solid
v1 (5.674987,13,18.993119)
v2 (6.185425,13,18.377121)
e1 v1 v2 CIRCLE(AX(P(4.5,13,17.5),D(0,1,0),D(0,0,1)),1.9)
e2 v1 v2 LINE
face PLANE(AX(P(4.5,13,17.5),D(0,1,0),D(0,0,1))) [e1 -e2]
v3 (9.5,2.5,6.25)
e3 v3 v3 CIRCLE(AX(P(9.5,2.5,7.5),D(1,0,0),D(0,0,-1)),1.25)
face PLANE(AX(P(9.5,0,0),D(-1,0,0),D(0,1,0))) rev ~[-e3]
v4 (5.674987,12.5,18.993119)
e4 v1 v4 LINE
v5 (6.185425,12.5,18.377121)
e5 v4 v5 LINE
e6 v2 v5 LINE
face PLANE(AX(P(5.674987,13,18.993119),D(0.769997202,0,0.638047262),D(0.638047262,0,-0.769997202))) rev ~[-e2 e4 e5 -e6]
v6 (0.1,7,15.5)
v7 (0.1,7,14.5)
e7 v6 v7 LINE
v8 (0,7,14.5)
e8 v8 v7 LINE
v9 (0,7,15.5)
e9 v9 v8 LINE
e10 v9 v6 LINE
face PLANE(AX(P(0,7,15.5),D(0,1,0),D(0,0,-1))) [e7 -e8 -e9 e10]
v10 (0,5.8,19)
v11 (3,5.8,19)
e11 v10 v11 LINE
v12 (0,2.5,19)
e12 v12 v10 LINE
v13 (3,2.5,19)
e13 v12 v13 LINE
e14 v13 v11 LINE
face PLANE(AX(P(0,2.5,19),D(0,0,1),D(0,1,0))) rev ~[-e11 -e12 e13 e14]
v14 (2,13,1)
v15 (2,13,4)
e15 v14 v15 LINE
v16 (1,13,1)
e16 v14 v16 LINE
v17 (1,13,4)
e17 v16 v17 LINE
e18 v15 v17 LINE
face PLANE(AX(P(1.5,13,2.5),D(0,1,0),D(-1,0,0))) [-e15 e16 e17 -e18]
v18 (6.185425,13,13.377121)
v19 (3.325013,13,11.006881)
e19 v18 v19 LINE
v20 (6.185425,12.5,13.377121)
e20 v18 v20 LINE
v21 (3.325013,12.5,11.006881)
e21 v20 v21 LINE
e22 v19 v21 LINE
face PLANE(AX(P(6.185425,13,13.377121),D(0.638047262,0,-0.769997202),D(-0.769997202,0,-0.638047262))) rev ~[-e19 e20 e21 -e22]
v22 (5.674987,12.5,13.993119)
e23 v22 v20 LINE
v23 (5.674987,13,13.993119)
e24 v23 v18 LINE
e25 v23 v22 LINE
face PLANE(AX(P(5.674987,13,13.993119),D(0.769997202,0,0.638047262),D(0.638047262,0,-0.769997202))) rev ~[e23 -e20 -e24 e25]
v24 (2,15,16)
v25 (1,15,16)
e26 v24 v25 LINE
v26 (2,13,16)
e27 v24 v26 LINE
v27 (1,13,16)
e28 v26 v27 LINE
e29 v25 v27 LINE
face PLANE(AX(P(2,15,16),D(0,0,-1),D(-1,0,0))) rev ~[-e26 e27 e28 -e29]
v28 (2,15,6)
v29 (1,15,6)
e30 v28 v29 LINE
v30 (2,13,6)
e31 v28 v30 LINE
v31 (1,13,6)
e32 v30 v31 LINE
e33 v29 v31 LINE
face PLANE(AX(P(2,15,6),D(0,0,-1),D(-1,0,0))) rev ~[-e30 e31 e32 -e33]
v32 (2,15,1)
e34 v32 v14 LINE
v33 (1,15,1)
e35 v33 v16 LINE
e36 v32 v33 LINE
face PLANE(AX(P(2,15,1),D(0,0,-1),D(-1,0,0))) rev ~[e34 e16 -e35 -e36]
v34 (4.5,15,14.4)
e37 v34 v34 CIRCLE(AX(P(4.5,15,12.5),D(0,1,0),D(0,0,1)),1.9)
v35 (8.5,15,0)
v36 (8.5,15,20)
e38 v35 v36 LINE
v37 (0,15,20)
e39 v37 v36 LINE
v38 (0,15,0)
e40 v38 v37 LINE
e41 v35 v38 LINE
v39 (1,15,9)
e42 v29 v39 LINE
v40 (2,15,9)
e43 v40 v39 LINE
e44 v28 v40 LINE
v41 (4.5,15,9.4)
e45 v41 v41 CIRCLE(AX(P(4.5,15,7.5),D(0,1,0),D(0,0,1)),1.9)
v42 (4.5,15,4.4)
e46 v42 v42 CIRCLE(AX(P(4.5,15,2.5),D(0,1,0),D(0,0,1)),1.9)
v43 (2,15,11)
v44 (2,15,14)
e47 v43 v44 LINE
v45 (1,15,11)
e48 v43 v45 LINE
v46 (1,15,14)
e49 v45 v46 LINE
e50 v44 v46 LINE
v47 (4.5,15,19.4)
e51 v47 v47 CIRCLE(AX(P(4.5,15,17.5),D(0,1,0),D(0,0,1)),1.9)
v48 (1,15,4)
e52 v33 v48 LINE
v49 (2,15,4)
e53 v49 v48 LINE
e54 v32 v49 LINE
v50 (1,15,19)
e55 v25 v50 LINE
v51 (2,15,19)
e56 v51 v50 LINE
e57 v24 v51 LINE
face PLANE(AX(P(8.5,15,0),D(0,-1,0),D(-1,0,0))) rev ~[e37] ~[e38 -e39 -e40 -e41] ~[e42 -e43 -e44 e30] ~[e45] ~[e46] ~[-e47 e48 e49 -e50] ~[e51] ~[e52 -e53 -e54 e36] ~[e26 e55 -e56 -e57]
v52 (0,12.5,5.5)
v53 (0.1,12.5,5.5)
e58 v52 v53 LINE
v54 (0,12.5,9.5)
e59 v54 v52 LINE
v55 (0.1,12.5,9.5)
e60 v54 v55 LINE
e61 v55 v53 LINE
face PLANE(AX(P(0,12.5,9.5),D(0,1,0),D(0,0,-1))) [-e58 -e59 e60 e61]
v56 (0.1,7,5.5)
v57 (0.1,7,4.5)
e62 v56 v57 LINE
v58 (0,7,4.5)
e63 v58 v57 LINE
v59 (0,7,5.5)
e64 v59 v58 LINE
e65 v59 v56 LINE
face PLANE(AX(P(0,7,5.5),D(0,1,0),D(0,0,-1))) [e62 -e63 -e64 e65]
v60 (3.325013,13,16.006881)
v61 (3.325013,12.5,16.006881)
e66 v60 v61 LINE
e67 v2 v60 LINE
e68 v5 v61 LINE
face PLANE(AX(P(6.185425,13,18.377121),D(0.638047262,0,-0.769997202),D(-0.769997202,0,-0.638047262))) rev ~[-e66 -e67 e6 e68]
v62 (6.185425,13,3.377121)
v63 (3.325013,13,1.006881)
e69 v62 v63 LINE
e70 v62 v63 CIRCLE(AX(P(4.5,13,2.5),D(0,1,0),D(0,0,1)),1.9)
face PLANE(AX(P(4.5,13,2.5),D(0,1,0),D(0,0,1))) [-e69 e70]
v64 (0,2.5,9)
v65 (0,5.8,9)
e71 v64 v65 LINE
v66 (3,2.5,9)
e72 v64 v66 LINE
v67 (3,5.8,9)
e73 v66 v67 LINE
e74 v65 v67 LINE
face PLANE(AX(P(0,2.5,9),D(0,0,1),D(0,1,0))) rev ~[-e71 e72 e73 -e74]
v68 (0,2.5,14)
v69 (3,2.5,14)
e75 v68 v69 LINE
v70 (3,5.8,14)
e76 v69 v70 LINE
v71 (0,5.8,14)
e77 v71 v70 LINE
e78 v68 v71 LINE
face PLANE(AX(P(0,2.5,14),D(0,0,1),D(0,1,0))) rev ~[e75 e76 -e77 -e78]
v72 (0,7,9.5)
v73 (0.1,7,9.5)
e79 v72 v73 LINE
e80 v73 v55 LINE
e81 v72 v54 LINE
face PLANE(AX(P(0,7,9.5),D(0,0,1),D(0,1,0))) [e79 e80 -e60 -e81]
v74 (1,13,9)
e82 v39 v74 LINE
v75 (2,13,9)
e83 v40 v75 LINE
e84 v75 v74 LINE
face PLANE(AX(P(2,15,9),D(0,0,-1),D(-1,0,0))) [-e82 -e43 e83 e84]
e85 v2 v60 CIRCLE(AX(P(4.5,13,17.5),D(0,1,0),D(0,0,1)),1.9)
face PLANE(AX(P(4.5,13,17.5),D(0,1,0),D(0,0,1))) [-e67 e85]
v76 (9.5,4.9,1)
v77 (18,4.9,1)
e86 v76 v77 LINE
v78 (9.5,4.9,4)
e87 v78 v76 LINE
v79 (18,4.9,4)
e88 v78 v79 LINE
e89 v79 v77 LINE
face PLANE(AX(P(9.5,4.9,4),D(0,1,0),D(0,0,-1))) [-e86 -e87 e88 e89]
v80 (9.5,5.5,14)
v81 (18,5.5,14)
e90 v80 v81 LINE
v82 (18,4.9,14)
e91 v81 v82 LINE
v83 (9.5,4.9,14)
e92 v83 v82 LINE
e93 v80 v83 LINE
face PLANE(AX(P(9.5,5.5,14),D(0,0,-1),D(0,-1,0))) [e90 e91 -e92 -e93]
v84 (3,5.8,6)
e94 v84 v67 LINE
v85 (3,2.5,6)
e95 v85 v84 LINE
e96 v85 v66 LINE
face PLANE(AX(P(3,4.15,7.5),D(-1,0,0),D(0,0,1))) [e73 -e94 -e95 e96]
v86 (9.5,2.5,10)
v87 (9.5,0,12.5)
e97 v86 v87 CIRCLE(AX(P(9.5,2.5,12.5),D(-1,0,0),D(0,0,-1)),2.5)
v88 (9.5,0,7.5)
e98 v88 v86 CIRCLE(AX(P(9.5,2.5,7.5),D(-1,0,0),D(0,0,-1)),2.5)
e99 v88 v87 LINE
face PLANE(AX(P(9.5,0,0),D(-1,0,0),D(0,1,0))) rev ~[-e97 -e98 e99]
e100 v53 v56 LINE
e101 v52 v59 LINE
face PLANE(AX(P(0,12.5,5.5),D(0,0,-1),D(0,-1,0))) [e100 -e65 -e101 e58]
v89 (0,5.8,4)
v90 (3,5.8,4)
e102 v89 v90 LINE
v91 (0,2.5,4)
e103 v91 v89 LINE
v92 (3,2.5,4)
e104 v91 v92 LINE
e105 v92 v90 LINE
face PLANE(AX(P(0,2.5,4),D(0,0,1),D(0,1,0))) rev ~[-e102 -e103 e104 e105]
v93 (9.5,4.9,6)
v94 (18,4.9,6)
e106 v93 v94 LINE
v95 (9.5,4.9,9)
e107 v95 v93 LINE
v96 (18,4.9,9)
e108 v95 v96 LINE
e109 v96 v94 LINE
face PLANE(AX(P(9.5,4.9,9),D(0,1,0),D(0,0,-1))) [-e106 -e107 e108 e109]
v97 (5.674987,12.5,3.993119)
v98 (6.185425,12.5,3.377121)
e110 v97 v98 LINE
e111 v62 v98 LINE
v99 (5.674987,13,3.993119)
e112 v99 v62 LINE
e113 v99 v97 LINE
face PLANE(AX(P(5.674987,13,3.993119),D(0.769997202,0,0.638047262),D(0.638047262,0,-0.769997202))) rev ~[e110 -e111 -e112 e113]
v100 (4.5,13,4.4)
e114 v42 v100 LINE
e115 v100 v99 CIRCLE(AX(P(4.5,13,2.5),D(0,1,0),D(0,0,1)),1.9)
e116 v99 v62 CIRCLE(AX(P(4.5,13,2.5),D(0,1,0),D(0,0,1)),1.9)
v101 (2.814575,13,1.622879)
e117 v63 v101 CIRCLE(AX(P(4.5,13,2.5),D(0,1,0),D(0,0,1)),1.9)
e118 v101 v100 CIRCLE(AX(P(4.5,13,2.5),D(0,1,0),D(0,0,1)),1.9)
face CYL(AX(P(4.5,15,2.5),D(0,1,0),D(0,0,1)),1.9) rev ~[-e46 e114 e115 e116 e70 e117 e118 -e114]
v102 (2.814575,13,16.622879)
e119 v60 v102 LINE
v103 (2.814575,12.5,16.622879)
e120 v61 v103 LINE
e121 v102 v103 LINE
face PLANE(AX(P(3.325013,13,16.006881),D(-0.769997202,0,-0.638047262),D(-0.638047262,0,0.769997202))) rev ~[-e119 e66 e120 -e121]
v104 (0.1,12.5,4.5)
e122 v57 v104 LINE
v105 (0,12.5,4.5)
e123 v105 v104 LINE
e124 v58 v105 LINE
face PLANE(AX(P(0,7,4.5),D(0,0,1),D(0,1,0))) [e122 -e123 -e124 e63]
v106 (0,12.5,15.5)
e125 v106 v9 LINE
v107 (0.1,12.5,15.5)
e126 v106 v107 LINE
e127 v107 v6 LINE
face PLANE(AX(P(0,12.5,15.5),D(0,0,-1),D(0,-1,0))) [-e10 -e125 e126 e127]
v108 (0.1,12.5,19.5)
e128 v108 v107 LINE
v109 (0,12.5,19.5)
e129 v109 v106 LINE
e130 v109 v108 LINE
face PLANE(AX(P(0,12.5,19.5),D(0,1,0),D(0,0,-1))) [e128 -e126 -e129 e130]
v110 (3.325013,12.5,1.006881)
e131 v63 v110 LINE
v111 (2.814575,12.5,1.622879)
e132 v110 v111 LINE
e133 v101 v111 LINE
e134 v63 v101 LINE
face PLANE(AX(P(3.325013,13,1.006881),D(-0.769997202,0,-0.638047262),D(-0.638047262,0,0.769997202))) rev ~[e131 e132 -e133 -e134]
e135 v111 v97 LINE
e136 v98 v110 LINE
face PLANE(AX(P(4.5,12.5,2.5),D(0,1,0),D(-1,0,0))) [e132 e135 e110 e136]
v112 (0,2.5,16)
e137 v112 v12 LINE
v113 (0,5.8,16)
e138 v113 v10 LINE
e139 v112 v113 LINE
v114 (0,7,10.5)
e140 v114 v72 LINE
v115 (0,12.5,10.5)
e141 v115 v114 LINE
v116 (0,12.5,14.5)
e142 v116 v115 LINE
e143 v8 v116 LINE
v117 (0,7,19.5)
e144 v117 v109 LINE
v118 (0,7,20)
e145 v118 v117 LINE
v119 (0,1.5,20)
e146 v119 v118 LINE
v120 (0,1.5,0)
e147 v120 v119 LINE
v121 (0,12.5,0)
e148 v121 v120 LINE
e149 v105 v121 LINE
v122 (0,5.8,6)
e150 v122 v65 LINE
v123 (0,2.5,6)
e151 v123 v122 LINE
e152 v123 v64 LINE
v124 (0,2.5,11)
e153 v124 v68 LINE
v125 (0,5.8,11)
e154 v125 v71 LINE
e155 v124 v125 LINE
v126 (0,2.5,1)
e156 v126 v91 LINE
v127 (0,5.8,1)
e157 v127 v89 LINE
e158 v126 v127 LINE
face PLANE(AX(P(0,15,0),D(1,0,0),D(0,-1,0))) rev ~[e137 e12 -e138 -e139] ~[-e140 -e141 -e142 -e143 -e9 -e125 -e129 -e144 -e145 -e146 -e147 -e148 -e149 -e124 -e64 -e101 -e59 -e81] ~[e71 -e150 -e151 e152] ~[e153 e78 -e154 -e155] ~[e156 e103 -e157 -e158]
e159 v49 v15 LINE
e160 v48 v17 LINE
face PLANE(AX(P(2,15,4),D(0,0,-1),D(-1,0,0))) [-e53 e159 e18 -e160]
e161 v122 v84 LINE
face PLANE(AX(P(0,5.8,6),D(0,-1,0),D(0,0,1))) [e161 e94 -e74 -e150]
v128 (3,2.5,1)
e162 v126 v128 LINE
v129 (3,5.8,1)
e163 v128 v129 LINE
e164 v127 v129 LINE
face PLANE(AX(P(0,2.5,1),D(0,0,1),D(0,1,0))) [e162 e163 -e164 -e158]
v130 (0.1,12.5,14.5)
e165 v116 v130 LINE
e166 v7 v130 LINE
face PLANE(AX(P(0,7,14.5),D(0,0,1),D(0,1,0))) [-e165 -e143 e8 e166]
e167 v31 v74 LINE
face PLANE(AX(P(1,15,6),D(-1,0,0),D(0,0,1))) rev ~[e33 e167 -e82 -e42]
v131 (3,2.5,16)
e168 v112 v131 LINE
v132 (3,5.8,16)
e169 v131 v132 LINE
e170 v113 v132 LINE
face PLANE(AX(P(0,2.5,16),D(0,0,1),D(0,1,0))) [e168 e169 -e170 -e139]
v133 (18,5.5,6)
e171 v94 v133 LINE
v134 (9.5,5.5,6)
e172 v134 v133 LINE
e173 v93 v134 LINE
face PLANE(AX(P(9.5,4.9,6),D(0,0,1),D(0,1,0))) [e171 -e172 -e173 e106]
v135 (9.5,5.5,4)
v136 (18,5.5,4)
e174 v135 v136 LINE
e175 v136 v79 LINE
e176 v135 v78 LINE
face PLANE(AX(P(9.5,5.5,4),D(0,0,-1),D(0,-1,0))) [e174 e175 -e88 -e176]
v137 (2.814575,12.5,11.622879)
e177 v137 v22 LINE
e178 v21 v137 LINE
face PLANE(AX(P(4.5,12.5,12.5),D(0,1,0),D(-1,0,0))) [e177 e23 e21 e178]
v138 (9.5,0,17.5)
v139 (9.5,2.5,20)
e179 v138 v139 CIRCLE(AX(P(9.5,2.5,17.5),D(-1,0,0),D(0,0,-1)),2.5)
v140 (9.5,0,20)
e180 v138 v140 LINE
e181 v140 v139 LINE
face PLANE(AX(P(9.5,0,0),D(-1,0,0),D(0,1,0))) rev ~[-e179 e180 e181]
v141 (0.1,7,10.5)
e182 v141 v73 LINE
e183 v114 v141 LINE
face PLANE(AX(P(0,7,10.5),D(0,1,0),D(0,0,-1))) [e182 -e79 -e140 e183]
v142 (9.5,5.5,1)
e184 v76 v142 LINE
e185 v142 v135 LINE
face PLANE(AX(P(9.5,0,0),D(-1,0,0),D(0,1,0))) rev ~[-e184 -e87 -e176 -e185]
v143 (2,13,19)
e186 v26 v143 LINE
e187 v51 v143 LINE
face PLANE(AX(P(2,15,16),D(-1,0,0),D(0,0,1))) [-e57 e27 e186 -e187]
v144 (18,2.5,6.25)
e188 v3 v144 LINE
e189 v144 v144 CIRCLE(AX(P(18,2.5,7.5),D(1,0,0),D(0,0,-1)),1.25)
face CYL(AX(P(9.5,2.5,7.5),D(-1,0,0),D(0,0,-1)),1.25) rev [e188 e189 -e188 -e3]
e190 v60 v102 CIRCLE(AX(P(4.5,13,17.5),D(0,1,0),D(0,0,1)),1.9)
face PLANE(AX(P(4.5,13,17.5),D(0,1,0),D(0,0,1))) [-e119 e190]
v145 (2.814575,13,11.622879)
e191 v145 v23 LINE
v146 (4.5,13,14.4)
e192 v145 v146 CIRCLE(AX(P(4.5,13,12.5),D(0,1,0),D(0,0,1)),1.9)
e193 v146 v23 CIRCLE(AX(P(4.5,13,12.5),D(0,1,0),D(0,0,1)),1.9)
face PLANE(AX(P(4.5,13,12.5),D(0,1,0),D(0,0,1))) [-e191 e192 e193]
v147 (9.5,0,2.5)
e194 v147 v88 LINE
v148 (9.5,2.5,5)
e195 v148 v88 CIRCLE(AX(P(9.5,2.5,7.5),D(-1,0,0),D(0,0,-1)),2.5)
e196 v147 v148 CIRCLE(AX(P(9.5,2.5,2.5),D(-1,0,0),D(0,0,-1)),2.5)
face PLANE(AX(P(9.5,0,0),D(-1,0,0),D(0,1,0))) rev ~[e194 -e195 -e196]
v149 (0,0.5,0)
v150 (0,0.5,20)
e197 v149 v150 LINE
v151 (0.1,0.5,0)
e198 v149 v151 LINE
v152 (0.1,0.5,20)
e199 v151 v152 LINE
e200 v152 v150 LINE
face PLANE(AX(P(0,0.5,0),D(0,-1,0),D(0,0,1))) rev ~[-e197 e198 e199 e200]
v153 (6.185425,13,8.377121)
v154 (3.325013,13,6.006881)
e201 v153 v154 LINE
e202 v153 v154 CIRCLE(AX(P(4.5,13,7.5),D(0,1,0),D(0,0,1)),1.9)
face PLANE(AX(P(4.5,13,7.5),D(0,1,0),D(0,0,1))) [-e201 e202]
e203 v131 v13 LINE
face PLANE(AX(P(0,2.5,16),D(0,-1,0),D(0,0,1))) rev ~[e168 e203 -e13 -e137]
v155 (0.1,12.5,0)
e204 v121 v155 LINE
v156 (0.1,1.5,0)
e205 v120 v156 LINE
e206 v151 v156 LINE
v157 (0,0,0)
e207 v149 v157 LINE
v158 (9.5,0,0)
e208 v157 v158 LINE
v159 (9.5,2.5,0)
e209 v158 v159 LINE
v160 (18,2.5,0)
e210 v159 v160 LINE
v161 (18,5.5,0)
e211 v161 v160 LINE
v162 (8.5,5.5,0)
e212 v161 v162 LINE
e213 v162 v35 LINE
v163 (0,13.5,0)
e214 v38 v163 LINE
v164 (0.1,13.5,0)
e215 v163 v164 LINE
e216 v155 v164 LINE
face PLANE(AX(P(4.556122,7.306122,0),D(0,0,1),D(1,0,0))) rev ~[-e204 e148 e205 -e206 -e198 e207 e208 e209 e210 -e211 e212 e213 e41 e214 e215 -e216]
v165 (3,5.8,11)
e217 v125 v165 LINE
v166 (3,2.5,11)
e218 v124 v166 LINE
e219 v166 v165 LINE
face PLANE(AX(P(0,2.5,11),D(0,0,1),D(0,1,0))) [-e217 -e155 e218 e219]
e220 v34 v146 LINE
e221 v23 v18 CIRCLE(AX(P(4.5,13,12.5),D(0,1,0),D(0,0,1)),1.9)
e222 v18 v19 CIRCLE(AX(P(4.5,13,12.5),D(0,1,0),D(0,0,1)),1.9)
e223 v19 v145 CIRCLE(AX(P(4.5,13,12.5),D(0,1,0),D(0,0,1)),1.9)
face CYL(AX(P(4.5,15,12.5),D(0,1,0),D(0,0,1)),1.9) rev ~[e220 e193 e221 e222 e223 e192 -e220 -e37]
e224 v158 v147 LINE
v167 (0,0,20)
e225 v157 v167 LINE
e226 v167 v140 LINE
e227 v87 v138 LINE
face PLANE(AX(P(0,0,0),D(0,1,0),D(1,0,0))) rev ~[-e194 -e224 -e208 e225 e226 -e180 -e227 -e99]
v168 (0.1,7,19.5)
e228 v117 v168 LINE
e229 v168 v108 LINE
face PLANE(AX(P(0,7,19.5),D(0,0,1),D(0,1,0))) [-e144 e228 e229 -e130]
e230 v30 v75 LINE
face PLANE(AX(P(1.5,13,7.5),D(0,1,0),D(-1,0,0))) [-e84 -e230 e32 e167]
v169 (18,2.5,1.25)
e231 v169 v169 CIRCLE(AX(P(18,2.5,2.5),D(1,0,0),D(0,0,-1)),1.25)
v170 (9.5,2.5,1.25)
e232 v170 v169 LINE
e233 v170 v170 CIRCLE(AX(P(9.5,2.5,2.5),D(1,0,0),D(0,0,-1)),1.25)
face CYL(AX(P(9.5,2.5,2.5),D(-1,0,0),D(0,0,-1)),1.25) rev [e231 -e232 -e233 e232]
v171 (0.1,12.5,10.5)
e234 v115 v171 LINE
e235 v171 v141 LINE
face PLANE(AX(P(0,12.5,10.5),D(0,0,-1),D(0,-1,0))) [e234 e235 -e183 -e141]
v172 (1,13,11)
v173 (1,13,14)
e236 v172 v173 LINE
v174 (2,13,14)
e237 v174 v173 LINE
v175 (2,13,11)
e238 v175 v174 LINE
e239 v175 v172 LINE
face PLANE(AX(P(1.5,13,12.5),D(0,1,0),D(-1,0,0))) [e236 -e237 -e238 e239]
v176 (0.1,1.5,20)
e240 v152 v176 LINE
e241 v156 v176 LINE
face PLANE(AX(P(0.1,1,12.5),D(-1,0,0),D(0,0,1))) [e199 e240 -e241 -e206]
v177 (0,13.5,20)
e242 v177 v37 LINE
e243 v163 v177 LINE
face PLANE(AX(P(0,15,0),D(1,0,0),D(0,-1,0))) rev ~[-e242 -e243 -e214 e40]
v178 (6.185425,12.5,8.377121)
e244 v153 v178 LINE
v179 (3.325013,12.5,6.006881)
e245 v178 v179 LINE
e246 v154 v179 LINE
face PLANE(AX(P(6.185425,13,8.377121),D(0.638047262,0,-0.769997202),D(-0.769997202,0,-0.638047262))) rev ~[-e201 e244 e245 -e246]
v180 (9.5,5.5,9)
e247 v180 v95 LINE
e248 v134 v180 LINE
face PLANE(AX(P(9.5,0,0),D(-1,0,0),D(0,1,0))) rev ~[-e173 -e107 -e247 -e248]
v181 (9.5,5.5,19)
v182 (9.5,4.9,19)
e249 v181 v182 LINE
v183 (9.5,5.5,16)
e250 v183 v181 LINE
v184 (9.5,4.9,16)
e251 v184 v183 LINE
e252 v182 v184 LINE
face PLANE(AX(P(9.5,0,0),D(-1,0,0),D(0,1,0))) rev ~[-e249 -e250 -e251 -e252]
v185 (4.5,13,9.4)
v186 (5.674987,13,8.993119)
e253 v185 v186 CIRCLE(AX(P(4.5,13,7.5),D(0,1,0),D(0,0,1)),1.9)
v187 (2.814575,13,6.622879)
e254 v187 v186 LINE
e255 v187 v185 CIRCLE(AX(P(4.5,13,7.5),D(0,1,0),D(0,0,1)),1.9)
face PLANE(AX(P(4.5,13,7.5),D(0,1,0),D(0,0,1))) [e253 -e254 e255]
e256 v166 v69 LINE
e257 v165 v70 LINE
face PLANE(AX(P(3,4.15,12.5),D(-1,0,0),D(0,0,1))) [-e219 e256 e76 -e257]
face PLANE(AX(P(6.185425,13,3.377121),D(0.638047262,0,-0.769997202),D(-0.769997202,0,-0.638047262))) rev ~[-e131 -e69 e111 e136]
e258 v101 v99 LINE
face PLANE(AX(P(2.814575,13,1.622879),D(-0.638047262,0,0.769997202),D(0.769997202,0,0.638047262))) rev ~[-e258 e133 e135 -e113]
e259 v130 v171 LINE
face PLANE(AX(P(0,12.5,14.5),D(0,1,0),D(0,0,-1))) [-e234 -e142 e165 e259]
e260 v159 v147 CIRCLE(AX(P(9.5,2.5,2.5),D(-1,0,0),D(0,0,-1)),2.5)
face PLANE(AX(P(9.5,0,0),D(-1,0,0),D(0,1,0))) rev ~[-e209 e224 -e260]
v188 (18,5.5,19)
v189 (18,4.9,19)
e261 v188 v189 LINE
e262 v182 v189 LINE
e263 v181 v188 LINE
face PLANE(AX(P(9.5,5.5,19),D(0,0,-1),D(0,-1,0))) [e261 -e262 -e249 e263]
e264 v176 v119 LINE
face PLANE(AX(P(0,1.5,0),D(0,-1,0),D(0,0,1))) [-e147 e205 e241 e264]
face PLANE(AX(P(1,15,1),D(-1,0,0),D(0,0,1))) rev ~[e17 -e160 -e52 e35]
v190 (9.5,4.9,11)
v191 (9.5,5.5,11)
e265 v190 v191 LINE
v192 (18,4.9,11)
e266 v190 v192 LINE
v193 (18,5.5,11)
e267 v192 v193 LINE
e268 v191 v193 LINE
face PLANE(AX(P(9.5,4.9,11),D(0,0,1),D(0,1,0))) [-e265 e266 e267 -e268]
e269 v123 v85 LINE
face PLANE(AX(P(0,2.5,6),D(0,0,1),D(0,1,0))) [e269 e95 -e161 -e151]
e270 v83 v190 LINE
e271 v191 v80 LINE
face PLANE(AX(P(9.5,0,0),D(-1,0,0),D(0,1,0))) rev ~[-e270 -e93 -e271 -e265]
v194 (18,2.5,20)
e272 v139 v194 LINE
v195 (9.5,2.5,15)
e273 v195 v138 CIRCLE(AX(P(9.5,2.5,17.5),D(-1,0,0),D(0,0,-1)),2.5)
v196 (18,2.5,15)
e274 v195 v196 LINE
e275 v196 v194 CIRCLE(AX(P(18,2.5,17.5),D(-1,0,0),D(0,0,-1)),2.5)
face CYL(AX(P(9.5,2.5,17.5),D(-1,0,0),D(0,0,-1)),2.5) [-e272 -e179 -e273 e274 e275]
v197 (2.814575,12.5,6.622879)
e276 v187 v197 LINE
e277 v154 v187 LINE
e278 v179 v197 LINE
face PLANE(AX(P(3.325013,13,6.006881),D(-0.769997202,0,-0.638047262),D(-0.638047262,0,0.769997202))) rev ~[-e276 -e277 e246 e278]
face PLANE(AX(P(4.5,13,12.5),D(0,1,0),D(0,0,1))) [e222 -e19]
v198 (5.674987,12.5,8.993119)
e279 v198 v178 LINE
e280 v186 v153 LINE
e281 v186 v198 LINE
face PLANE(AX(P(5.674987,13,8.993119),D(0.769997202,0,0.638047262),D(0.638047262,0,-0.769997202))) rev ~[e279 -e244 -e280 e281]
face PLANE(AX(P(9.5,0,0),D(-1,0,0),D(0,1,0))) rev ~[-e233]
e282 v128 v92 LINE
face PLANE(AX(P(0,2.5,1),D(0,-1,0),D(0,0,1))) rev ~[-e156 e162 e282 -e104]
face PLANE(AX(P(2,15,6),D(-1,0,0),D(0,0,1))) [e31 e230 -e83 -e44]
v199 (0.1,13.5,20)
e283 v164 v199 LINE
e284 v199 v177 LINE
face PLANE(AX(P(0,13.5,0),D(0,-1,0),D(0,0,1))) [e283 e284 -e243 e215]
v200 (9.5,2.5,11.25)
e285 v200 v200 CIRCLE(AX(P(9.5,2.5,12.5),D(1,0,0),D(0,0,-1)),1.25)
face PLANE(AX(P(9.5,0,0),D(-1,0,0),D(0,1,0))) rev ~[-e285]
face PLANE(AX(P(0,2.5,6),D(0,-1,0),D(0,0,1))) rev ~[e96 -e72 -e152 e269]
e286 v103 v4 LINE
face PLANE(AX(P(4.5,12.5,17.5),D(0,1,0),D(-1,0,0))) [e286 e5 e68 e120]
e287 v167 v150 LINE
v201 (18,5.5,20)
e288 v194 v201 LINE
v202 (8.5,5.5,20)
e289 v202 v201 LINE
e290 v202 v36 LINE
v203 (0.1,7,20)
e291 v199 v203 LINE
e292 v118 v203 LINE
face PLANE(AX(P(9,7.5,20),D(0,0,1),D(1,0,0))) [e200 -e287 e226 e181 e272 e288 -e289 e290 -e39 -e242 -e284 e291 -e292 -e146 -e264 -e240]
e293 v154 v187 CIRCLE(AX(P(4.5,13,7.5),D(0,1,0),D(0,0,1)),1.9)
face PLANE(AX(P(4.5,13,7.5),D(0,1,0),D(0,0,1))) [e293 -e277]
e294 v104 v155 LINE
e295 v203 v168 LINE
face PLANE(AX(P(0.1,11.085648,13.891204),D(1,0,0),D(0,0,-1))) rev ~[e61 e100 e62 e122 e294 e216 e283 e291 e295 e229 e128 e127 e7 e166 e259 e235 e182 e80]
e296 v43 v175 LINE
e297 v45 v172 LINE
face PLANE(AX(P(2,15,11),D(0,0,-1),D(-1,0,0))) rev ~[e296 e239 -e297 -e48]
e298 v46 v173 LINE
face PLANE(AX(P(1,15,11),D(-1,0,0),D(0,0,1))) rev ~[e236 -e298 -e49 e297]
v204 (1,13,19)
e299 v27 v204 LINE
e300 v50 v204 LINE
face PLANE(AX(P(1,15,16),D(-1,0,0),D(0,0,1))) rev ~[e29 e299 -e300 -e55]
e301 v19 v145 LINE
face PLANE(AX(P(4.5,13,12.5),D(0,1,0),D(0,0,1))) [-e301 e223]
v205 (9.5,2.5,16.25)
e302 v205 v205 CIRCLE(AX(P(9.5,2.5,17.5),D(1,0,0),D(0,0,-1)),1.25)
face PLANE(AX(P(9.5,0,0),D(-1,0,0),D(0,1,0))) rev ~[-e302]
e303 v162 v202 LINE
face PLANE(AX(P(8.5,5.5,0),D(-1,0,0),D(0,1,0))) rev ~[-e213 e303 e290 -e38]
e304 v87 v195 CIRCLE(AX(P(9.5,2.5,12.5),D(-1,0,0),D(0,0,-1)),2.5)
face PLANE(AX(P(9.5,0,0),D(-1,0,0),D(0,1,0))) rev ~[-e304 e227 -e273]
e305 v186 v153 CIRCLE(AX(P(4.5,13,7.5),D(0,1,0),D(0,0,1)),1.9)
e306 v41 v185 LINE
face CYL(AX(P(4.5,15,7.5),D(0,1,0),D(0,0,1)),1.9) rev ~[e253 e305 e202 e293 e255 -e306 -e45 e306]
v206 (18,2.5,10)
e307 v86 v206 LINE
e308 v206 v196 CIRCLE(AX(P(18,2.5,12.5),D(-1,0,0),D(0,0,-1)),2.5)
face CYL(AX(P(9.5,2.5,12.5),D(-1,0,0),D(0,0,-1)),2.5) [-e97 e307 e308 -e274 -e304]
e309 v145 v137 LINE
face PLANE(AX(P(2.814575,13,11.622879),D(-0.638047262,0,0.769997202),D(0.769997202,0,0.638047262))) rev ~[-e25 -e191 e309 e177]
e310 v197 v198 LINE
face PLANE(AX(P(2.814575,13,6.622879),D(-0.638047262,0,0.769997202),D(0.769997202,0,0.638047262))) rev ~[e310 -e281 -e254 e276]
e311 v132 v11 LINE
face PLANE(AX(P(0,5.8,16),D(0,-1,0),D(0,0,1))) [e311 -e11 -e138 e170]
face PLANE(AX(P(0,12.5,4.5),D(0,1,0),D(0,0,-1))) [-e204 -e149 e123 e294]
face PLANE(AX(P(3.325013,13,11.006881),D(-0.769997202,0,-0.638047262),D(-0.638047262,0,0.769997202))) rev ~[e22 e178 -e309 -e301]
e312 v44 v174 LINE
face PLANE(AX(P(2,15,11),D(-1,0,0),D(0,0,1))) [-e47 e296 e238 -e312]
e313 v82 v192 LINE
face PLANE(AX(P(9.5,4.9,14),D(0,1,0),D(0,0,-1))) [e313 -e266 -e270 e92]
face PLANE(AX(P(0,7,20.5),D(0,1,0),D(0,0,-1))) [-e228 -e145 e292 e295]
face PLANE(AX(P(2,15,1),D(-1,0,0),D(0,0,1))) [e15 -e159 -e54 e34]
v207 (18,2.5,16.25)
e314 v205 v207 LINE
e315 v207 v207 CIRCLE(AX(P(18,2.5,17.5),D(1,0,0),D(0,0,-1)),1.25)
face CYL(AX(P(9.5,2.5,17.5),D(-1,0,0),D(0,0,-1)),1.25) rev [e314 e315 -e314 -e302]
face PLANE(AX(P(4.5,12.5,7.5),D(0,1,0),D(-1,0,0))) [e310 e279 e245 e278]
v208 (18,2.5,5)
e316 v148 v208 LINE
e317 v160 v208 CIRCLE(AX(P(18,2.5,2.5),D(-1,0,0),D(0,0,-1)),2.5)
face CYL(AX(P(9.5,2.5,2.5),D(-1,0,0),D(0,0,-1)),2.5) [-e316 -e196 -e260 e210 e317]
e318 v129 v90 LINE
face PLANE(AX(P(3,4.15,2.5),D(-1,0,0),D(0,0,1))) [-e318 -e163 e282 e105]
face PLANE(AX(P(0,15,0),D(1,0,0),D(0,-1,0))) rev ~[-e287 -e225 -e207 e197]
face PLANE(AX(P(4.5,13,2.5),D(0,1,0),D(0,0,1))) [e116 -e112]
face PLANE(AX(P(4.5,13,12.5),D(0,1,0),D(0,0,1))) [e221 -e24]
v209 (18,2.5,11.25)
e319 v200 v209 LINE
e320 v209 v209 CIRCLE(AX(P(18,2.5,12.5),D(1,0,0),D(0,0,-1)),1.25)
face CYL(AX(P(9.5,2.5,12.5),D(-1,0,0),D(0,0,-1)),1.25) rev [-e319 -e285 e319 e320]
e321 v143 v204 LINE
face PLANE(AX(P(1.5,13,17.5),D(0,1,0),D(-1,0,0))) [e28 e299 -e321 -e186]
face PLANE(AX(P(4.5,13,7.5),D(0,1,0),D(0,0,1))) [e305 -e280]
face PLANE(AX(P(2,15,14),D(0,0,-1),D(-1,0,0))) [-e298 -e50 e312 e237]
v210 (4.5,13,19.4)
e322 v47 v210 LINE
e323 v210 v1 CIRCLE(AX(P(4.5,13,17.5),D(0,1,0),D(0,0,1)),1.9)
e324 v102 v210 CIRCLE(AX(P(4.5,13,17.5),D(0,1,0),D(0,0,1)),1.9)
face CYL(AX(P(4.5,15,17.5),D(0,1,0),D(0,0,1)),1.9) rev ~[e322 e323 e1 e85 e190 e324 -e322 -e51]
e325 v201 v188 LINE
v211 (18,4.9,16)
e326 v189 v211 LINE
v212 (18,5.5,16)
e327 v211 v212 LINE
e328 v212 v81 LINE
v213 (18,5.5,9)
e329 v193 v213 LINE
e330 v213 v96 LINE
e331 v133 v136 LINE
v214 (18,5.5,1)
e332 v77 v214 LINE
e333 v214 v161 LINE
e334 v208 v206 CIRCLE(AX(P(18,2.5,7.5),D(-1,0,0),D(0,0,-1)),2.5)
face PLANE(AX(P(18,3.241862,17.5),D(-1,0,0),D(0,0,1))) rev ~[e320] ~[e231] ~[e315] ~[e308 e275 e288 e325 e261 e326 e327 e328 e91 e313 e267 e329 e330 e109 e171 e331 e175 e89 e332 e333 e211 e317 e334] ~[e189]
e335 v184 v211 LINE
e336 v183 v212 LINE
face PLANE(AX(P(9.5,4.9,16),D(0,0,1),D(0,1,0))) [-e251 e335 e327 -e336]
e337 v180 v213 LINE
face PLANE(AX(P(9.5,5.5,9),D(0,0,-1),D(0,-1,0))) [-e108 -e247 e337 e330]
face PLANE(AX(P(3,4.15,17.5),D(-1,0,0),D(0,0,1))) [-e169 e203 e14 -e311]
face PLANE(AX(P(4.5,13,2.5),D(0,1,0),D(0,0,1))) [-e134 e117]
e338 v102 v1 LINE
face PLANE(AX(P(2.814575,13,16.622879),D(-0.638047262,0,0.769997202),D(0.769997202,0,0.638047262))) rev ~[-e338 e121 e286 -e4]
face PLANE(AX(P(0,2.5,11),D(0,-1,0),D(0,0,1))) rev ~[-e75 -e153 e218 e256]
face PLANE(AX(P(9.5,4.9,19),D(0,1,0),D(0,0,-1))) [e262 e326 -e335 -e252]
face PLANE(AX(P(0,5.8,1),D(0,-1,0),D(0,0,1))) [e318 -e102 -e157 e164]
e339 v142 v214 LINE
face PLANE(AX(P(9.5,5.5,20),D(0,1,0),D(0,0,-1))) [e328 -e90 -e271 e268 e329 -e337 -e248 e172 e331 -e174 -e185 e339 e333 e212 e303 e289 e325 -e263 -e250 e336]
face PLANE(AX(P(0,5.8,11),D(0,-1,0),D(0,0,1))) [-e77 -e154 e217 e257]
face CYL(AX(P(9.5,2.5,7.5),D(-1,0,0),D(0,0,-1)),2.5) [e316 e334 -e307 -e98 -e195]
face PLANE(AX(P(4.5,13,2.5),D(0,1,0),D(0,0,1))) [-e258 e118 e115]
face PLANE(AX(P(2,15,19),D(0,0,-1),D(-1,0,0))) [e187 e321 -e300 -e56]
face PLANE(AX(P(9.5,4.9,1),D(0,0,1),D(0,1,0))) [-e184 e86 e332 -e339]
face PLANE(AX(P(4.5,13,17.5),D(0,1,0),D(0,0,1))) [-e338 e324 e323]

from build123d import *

# Parameters (mm, degrees)
EXTRUDE_1_DEPTH        = 25
SKETCH_2_R             = 1.25
EXTRUDE_2_DEPTH        = 8.5
PATTERN_LINEAR_1_COUNT = 5
PATTERN_LINEAR_1_PITCH = 5
SKETCH_3_W             = 3
SKETCH_3_H             = 3.3
CUT_EXTRUDE_1_DEPTH    = 3
PATTERN_LINEAR_2_COUNT = 5
PATTERN_LINEAR_2_PITCH = 5
CUT_EXTRUDE_2_DEPTH    = 0.1
SKETCH_5_W             = 25
SKETCH_5_H             = 1
CUT_EXTRUDE_3_DEPTH    = 0.1
SKETCH_6_R             = 1.9
CUT_EXTRUDE_4_DEPTH    = 2
PATTERN_LINEAR_3_COUNT = 5
PATTERN_LINEAR_3_PITCH = 5
SKETCH_7_W             = 1
SKETCH_7_H             = 3
CUT_EXTRUDE_5_DEPTH    = 2
PATTERN_LINEAR_4_COUNT = 5
PATTERN_LINEAR_4_PITCH = 5
CUT_EXTRUDE_6_DEPTH    = 0.5
PATTERN_LINEAR_5_COUNT = 5
PATTERN_LINEAR_5_PITCH = 5
SKETCH_9_W             = 18
SKETCH_9_H             = 15
CUT_EXTRUDE_7_DEPTH    = 5


with BuildPart() as part:
    # Эскиз1 → Вытянуть1 (new body)
    with BuildSketch(Plane.XY):
        Polygon((0, 0), (9.5, 0), (9.5, 5.5), (8.5, 5.5), (8.5, 15), (0, 15), align=None)
    extrude(amount=EXTRUDE_1_DEPTH)

    # Эскиз2 → Вытянуть2 (add)
    with BuildSketch(Plane(origin=(9.5, 0, 0), x_dir=(0, 0, -1), z_dir=(1, 0, 0))):
        with BuildLine():
            Line((-25, 5.5), (-24, 5.5))
            Line((-24, 5.5), (-24, 4.9))
            Line((-24, 4.9), (-21, 4.9))
            Line((-21, 4.9), (-21, 5.5))
            Line((-21, 5.5), (-20, 5.5))
            Line((-20, 5.5), (-20, 2.5))
            ThreePointArc((-20, 2.5), (-22.5, 0), (-25, 2.5))
            Line((-25, 2.5), (-25, 5.5))
        make_face()
        with Locations((-22.5, 2.5)):
            Circle(SKETCH_2_R, mode=Mode.SUBTRACT)
    extrude_2 = extrude(amount=EXTRUDE_2_DEPTH)

    # Линейный массив1: Вытянуть2 ×5
    with Locations(*[(0, 0, -i * PATTERN_LINEAR_1_PITCH) for i in range(1, PATTERN_LINEAR_1_COUNT)]):
        add(extrude_2)

    # Эскиз3 → Вырез-Вытянуть1 (cut)
    with BuildSketch(Plane.ZY):
        with Locations((2.5, 4.15)):
            Rectangle(SKETCH_3_W, SKETCH_3_H)
    cut_extrude_1 = extrude(amount=-CUT_EXTRUDE_1_DEPTH, mode=Mode.SUBTRACT)

    # Линейный массив2: Вырез-Вытянуть1 ×5
    with Locations(*[(0, 0, i * PATTERN_LINEAR_2_PITCH) for i in range(1, PATTERN_LINEAR_2_COUNT)]):
        add(cut_extrude_1, mode=Mode.SUBTRACT)

    # Эскиз4 → Вырез-Вытянуть2 (cut)
    with BuildSketch(Plane.ZY):
        Polygon((0, 13.5), (25, 13.5), (25, 12.5), (25.5, 12.5), (25.5, 7), (24.5, 7), (24.5, 12.5), (20.5, 12.5), (20.5, 7), (19.5, 7), (19.5, 12.5), (15.5, 12.5), (15.5, 7), (14.5, 7), (14.5, 12.5), (10.5, 12.5), (10.5, 7), (9.5, 7), (9.5, 12.5), (5.5, 12.5), (5.5, 7), (4.5, 7), (4.5, 12.5), (0, 12.5), align=None)
    extrude(amount=-CUT_EXTRUDE_2_DEPTH, mode=Mode.SUBTRACT)

    # Эскиз5 → Вырез-Вытянуть3 (cut)
    with BuildSketch(Plane.ZY):
        with Locations((12.5, 1)):
            Rectangle(SKETCH_5_W, SKETCH_5_H)
    extrude(amount=-CUT_EXTRUDE_3_DEPTH, mode=Mode.SUBTRACT)

    # Эскиз6 → Вырез-Вытянуть4 (cut)
    with BuildSketch(Plane(origin=(0, 15, 0), x_dir=(-1, 0, 0), z_dir=(0, 1, 0))):
        with Locations(Location((-4.5, 2.5, 0), (0, 0, 90))):
            Circle(SKETCH_6_R)
    cut_extrude_4 = extrude(amount=-CUT_EXTRUDE_4_DEPTH, mode=Mode.SUBTRACT)

    # Линейный массив3: Вырез-Вытянуть4 ×5
    with Locations(*[(0, 0, i * PATTERN_LINEAR_3_PITCH) for i in range(1, PATTERN_LINEAR_3_COUNT)]):
        add(cut_extrude_4, mode=Mode.SUBTRACT)

    # Эскиз7 → Вырез-Вытянуть5 (cut)
    with BuildSketch(Plane(origin=(0, 15, 0), x_dir=(-1, 0, 0), z_dir=(0, 1, 0))):
        with Locations((-1.5, 2.5)):
            Rectangle(SKETCH_7_W, SKETCH_7_H)
    cut_extrude_5 = extrude(amount=-CUT_EXTRUDE_5_DEPTH, mode=Mode.SUBTRACT)

    # Линейный массив4: Вырез-Вытянуть5 ×5
    with Locations(*[(0, 0, i * PATTERN_LINEAR_4_PITCH) for i in range(1, PATTERN_LINEAR_4_COUNT)]):
        add(cut_extrude_5, mode=Mode.SUBTRACT)

    # Эскиз8 → Вырез-Вытянуть6 (cut)
    with BuildSketch(Plane(origin=(0, 13, 0), x_dir=(-1, 0, 0), z_dir=(0, 1, 0))):
        Polygon((-6.185425231, 3.377121309), (-3.325012579, 1.006880929), (-2.814574769, 1.622878691), (-5.674987421, 3.993119071), align=None)
    cut_extrude_6 = extrude(amount=-CUT_EXTRUDE_6_DEPTH, mode=Mode.SUBTRACT)

    # Линейный массив5: Вырез-Вытянуть6 ×5
    with Locations(*[(0, 0, i * PATTERN_LINEAR_5_PITCH) for i in range(1, PATTERN_LINEAR_5_COUNT)]):
        add(cut_extrude_6, mode=Mode.SUBTRACT)

    # Эскиз9 → Вырез-Вытянуть7 (cut)
    with BuildSketch(Plane.XY.offset(25)):
        with Locations((9, 7.5)):
            Rectangle(SKETCH_9_W, SKETCH_9_H)
    extrude(amount=-CUT_EXTRUDE_7_DEPTH, mode=Mode.SUBTRACT)


solid = part.part
